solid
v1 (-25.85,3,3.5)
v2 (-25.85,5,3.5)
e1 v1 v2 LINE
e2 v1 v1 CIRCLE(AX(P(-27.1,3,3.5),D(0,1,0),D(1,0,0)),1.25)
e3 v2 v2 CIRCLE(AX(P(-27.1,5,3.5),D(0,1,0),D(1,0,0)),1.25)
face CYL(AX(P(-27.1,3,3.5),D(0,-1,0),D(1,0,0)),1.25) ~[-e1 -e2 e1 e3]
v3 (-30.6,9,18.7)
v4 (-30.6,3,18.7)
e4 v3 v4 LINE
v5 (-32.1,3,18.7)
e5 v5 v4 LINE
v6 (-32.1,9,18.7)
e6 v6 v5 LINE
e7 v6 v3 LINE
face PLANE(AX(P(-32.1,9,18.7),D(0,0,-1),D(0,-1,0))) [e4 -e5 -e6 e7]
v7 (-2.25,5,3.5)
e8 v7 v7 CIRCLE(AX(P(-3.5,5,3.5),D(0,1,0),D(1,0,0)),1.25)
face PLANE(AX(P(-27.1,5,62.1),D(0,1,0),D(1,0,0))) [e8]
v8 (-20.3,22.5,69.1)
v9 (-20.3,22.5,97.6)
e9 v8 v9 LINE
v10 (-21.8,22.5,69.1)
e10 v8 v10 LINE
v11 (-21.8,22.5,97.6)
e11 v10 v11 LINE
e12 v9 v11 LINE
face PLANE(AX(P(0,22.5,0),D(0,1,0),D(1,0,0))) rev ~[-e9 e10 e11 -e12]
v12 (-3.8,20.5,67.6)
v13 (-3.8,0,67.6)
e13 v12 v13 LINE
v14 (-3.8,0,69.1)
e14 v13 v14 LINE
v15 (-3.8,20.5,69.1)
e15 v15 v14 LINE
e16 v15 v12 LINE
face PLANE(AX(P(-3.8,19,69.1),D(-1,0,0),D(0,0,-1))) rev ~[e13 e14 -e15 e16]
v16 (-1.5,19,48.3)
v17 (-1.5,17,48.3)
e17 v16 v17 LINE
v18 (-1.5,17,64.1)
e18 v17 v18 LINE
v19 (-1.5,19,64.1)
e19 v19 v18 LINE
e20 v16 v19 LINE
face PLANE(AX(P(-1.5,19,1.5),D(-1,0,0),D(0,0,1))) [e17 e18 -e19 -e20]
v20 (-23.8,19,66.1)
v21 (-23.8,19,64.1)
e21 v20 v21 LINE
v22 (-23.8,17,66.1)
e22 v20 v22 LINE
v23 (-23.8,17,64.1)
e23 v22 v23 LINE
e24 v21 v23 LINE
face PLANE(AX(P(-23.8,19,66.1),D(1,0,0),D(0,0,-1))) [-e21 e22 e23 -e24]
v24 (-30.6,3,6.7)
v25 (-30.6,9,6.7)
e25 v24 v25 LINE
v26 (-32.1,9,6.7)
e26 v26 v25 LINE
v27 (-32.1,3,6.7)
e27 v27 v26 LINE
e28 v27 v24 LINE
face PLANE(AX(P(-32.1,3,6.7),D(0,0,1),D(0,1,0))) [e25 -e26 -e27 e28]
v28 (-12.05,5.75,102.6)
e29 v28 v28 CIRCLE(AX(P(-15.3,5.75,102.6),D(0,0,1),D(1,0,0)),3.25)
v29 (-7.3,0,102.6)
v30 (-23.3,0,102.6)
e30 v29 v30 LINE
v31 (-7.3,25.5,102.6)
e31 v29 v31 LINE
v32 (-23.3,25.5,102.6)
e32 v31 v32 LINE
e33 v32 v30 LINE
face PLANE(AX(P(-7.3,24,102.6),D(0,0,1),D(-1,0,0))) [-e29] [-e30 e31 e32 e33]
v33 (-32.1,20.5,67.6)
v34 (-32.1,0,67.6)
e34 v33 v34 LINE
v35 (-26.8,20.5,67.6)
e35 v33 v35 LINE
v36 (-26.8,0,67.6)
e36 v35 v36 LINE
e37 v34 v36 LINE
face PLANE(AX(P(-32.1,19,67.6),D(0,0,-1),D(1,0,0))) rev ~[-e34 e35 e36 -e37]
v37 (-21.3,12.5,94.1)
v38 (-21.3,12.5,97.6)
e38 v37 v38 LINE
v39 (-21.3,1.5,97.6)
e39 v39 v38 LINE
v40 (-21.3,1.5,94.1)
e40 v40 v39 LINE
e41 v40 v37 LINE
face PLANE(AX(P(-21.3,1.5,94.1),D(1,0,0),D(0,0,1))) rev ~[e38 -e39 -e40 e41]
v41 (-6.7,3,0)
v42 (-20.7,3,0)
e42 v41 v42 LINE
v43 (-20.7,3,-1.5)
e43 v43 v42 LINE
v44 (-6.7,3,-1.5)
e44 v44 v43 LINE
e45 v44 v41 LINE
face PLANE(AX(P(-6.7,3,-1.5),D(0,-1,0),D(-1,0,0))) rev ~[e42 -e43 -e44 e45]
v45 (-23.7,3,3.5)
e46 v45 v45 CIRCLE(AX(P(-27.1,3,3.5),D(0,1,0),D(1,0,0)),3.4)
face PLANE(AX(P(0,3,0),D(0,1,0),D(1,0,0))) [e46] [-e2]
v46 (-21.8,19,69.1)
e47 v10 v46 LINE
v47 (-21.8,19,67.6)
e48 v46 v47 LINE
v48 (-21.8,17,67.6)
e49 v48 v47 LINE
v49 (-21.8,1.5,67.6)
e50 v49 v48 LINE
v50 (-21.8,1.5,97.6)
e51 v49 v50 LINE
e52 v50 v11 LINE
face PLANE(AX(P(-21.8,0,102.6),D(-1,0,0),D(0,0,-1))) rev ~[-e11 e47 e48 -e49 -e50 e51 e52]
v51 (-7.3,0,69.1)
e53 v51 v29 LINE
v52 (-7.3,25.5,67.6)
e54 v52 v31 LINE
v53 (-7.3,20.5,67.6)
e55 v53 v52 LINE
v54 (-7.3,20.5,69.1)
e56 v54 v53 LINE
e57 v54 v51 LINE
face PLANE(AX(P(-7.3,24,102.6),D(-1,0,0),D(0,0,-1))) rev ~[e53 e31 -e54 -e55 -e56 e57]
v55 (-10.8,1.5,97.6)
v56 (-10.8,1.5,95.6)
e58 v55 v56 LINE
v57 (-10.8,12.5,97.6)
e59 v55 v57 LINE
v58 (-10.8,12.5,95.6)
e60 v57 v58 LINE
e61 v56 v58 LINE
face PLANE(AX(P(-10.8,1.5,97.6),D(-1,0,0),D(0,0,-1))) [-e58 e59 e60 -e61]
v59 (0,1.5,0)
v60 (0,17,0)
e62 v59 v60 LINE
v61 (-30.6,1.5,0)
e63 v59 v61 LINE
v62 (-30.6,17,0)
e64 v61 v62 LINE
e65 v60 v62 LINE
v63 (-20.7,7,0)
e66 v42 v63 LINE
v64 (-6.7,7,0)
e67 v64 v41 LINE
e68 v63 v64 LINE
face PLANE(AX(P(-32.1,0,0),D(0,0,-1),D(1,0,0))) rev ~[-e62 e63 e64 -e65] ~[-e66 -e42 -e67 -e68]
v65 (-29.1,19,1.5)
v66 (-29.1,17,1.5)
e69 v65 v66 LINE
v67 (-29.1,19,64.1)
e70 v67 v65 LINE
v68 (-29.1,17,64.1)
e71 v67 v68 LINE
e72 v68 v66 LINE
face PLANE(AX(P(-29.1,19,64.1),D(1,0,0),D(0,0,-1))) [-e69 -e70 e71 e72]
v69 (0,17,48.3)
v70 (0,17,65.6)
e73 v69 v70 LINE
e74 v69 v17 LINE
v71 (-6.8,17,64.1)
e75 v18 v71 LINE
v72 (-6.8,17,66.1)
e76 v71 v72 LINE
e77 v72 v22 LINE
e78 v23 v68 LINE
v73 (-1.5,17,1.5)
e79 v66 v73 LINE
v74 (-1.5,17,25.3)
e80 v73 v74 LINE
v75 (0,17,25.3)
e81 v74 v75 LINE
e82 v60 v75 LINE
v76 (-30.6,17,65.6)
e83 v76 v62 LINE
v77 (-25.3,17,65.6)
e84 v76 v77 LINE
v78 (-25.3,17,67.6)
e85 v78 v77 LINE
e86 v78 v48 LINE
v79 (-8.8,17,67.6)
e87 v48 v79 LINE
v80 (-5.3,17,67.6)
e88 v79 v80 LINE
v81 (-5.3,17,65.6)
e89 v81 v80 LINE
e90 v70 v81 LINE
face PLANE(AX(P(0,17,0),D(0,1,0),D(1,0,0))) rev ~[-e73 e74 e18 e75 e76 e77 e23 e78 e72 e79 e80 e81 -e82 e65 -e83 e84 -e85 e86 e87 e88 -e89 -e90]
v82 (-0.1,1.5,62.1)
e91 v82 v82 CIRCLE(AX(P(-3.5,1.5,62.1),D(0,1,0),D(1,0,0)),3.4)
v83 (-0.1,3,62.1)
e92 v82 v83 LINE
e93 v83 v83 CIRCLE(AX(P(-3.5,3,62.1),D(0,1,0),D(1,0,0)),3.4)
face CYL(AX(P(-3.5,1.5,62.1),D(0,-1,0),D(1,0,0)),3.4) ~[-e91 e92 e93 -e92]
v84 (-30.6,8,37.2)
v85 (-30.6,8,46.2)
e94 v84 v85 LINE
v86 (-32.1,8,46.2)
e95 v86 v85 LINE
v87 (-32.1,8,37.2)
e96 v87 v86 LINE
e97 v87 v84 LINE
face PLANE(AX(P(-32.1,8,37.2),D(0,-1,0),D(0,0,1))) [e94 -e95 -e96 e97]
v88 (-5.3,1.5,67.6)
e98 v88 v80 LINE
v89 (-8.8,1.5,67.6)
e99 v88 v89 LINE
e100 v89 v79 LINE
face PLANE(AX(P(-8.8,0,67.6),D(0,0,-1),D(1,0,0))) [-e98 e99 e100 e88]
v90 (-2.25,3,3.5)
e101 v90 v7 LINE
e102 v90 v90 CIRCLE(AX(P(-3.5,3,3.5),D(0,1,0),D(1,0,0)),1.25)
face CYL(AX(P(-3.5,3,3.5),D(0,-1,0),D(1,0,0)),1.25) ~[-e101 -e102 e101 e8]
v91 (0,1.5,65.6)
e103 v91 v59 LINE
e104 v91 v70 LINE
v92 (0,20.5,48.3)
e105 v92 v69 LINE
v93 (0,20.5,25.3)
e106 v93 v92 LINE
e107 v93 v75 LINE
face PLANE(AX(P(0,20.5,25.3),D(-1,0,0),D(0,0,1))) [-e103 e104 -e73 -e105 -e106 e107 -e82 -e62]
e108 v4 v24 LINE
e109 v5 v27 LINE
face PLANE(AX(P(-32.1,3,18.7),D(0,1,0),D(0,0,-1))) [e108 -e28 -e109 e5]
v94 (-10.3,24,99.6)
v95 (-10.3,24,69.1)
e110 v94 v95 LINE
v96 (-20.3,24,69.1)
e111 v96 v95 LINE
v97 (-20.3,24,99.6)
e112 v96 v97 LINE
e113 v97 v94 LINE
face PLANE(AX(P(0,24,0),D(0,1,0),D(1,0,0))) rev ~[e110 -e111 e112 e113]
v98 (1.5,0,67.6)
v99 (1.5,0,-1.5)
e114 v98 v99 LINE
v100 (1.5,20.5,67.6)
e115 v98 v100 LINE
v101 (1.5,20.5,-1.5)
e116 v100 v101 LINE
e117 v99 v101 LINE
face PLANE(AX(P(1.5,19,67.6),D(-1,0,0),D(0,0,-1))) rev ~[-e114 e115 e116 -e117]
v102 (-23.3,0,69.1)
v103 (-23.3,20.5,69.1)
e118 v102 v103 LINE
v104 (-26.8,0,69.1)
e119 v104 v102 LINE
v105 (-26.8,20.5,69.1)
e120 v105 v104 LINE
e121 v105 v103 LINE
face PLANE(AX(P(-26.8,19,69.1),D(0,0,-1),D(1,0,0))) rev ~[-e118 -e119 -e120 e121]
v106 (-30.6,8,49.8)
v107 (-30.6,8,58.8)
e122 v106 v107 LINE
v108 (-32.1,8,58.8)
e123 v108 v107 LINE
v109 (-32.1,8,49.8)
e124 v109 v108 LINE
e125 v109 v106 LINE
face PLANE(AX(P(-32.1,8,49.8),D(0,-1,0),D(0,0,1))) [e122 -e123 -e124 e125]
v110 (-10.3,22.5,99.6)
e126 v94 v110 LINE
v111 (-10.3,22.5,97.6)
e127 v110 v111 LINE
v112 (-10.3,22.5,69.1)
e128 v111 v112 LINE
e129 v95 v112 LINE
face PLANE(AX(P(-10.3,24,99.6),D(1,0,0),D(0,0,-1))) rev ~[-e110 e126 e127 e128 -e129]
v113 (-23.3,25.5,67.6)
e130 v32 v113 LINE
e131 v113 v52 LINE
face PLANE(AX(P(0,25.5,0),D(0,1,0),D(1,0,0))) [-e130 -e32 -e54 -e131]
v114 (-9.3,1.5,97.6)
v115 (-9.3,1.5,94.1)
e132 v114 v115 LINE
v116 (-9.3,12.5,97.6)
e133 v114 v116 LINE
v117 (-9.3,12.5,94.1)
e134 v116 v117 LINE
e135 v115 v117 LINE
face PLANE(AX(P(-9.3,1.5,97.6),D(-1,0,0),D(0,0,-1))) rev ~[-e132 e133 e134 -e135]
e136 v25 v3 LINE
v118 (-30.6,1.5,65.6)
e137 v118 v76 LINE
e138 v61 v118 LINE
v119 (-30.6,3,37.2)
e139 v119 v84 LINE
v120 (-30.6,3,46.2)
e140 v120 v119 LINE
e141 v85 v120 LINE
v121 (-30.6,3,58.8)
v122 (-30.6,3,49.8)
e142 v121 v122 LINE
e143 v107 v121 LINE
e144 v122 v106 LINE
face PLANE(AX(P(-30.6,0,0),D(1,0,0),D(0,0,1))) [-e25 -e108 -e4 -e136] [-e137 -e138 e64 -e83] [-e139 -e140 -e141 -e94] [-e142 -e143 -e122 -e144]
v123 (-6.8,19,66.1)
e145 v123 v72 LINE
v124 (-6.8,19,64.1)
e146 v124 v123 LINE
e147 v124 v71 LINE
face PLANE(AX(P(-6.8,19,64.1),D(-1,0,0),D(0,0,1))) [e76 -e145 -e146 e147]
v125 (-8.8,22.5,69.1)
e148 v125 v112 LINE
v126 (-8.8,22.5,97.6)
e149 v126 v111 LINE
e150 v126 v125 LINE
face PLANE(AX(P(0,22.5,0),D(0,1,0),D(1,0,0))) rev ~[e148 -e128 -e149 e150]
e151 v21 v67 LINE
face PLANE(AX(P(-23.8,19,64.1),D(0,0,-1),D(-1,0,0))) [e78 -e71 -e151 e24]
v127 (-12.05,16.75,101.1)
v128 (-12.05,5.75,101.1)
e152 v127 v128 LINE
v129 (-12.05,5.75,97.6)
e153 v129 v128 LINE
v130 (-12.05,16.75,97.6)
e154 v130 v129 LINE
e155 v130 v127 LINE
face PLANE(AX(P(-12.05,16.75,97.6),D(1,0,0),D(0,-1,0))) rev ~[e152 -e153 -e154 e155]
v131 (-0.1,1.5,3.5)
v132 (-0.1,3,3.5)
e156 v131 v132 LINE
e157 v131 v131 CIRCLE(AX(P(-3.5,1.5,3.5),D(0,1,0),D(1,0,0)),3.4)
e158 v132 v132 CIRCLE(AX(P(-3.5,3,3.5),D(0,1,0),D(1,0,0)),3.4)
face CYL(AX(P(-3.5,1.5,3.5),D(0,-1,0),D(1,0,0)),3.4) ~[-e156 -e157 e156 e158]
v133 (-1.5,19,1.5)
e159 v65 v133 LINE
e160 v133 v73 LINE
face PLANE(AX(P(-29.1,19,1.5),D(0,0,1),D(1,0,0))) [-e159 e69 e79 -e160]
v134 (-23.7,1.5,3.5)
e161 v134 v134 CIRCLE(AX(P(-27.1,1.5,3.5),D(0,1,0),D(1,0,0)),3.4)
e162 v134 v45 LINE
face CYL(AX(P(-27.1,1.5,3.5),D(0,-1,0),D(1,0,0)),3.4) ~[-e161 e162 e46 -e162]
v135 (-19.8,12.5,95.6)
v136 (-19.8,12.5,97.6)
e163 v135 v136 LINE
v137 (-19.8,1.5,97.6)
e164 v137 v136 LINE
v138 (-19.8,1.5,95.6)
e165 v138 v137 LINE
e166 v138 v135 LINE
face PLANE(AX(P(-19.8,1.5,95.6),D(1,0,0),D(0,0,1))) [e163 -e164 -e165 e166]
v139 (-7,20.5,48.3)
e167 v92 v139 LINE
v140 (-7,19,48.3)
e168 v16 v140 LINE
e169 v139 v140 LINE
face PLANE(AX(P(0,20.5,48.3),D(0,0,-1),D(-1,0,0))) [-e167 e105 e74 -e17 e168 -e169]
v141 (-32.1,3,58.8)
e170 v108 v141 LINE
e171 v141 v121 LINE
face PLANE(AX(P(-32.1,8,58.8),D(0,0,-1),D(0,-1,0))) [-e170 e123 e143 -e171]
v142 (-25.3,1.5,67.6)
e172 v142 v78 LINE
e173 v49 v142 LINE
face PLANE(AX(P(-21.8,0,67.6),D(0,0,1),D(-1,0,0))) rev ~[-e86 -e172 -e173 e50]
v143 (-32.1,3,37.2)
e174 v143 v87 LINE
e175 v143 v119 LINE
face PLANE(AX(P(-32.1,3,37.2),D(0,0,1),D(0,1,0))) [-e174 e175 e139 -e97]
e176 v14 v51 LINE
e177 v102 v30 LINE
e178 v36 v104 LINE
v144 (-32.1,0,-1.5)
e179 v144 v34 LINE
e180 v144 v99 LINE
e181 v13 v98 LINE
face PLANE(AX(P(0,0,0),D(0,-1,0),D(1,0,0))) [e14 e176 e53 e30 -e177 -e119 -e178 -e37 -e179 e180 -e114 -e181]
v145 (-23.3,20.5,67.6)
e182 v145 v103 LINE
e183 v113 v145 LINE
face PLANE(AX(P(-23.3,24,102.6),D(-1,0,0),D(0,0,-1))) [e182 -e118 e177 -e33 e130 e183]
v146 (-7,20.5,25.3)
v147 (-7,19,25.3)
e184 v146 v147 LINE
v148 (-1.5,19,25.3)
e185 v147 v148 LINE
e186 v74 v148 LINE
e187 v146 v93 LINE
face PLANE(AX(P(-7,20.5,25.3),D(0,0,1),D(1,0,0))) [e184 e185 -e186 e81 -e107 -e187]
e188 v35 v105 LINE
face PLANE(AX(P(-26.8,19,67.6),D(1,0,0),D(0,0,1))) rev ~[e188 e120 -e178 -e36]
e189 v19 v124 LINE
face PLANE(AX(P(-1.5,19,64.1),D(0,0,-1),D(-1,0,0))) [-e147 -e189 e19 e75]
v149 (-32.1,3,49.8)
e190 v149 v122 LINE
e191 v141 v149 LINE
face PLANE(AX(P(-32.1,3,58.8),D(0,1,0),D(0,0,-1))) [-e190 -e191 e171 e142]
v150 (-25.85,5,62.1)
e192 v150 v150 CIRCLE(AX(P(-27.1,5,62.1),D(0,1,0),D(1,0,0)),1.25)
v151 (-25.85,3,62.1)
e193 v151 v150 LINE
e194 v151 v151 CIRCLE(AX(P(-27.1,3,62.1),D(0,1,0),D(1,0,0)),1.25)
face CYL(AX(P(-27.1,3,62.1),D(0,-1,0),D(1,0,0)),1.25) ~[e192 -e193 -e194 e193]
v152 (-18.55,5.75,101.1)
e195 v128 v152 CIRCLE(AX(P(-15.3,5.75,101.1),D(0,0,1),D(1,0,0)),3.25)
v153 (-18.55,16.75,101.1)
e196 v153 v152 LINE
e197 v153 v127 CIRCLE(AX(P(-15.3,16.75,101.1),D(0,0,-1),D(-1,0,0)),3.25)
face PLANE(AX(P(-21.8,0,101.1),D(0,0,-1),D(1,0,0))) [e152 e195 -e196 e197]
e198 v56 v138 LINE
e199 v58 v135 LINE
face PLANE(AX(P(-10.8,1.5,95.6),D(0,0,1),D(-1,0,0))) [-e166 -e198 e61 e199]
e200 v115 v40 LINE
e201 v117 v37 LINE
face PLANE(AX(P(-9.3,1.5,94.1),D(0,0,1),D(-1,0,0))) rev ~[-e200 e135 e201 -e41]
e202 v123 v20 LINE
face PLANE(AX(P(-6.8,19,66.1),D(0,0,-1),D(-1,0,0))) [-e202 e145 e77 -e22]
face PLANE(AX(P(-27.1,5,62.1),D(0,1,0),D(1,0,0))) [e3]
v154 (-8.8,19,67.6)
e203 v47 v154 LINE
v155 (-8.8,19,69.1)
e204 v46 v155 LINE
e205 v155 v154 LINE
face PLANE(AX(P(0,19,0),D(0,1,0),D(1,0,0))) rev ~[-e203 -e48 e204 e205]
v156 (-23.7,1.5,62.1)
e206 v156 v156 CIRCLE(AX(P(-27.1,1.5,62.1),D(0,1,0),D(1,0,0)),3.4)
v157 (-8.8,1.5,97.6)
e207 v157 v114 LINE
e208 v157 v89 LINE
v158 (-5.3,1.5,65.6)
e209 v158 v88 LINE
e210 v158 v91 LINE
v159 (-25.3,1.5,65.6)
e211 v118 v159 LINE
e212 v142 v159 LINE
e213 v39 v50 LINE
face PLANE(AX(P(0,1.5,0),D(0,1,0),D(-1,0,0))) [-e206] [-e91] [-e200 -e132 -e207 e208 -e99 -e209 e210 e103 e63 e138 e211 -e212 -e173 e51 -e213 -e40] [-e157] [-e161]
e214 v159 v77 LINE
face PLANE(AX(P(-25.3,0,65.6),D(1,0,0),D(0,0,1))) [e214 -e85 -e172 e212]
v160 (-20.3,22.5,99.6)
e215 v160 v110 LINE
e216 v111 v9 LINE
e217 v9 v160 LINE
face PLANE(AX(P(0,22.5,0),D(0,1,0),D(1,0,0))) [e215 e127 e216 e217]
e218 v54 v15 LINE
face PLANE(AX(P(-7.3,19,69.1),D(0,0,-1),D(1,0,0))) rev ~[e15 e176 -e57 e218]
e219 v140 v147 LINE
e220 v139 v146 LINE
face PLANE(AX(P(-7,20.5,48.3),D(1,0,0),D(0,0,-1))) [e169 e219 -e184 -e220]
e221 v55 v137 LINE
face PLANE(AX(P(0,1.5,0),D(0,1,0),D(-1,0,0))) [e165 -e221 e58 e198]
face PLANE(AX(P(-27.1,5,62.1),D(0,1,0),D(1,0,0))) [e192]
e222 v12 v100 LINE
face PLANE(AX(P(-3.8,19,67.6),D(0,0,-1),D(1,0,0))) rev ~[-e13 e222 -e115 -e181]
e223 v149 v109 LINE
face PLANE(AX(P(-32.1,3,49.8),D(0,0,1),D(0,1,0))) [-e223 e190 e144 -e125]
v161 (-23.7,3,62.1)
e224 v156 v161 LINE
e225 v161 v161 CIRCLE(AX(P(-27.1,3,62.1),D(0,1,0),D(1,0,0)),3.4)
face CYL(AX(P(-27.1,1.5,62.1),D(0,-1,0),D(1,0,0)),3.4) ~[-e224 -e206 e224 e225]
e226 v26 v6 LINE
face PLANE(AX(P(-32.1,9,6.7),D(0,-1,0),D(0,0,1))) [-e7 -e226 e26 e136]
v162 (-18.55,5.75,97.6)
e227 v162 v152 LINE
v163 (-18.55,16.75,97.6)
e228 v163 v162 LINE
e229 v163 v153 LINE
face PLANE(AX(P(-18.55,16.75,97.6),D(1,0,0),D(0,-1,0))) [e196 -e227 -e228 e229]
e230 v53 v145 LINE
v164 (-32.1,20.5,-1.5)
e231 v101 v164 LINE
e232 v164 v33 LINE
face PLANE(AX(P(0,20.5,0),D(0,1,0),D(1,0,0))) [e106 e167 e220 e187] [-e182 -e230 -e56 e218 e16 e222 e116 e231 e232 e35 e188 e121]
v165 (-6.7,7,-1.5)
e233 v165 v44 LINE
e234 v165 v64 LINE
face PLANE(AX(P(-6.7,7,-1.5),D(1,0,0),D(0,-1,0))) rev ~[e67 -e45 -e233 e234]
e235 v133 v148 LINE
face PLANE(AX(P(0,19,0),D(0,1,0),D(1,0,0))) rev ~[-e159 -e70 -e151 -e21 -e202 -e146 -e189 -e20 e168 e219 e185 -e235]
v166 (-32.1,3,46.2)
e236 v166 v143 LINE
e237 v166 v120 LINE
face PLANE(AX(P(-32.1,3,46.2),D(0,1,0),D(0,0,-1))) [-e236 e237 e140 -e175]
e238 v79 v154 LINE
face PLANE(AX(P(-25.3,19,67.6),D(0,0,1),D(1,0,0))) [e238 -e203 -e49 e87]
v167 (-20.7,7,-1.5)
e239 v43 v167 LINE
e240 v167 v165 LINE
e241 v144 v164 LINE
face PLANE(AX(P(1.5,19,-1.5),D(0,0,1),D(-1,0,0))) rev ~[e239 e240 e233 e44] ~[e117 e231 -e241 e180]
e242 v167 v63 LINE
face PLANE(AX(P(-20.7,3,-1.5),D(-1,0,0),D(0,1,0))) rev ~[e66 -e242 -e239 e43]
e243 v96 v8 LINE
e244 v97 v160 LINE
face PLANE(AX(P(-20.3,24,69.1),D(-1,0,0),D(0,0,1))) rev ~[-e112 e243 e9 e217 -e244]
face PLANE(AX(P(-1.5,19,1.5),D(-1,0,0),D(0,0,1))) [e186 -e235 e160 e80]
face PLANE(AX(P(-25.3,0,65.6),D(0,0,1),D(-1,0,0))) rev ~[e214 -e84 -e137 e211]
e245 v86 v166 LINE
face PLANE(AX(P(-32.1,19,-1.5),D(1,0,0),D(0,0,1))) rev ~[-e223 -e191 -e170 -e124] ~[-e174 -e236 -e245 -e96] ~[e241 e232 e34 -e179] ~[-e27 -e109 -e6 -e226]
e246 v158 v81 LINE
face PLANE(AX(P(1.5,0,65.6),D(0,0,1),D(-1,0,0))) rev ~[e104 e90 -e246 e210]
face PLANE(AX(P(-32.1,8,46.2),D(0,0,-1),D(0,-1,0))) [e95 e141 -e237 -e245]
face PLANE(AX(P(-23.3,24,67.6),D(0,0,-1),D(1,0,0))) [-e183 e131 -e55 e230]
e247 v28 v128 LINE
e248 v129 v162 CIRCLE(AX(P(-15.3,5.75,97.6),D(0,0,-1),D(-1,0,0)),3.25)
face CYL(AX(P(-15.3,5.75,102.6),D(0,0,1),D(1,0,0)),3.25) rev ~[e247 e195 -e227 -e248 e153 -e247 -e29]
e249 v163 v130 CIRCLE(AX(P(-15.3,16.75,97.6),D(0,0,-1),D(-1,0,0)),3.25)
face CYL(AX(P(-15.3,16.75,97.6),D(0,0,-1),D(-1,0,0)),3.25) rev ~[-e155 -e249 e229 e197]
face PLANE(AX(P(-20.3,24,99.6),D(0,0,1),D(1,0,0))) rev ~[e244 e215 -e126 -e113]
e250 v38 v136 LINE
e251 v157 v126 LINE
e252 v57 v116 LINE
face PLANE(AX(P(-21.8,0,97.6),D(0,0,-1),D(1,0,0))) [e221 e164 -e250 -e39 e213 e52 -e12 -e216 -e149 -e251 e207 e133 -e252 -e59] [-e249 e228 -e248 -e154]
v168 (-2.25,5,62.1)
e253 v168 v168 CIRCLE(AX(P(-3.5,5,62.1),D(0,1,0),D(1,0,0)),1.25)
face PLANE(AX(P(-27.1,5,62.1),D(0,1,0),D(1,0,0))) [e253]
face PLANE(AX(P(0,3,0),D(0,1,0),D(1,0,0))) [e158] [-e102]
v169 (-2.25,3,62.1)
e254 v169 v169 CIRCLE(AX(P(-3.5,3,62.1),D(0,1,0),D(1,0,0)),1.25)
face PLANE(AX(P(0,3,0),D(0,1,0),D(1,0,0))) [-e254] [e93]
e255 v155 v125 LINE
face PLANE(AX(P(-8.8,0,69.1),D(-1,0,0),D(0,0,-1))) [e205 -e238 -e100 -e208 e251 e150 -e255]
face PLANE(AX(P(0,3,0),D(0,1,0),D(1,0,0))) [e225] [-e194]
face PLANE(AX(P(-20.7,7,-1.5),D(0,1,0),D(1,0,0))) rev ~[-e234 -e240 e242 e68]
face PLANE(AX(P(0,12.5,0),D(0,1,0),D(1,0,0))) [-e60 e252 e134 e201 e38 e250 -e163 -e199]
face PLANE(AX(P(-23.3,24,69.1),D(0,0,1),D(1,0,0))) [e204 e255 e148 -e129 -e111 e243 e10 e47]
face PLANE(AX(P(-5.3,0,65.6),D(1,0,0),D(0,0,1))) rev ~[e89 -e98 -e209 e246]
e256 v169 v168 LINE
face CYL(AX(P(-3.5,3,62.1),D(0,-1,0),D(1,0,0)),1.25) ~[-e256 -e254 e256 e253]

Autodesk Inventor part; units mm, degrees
ref_plane "YZ Plane" through (0, 0, 0) normal (1, 0, 0) x (0, 1, 0)
ref_plane "XZ Plane" through (0, 0, 0) normal (0, 1, 0) x (-1, 0, 0)
ref_plane "XY Plane" through (0, 0, 0) normal (0, 0, 1) x (1, 0, 0)
sketch "Szkic1" plane through (0, 0, 0) normal (0, 1, 0) x (-1, 0, 0)
  line L0 (0, 0) -> (30.6, 0)
  line L1 (30.6, 0) -> (30.6, 65.6)
  line L2 (30.6, 65.6) -> (0, 65.6)
  line L3 (0, 65.6) -> (0, 0)
  dimension "d0" = 30.6
  dimension "d1" = 65.6
extrude "Wyciągnięcie proste1" add sketch "Szkic1" along normal blind 1.5
sketch "Szkic2" plane through (0, 1.5, 0) normal (0, 1, 0) x (1, 0, 0)
  line L0 (-30.6, 0) -> (-30.6, -65.6) construction
  line L1 (-30.6, -65.6) -> (-30.6, -62.1) construction
  line L2 (-30.6, -62.1) -> (-27.1, -62.1) construction
  line L3 (0, 0) -> (-30.6, 0) construction
  line L4 (0, 0) -> (-3.5, 0) construction
  line L5 (-3.5, 0) -> (-3.5, -3.5) construction
  line L6 (-30.6, -65.6) -> (0, -65.6) construction
  line L7 (0, -65.6) -> (-3.5, -65.6) construction
  line L8 (-3.5, -65.6) -> (-3.5, -62.1) construction
  line L9 (-3.5, -62.1) -> (0, -62.1) construction
  line L10 (0, -62.1) -> (0, -65.6) construction
  line L11 (-30.6, 0) -> (-27.1, 0) construction
  line L12 (-27.1, 0) -> (-27.1, -3.5) construction
  line L13 (-27.1, -3.5) -> (-30.6, -3.5) construction
  line L14 (-30.6, -3.5) -> (-30.6, 0) construction
  circle A0 centre (-27.1, -62.1) radius 3.4
  circle A1 centre (-3.5, -62.1) radius 3.4
  circle A2 centre (-3.5, -3.5) radius 3.4
  circle A3 centre (-27.1, -3.5) radius 3.4
  dimension "d4" = 3.5
  dimension "d5" = 3.5
  dimension "d6" = 3.5
  dimension "d7" = 3.5
  dimension "d8" = 3.5
  dimension "d9" = 3.5
  dimension "d10" = 3.5
  dimension "d11" = 3.5
  dimension "d12" = 6.8
  dimension "d13" = 6.8
  dimension "d14" = 6.8
  dimension "d15" = 6.8
extrude "Wyciągnięcie proste2" add sketch "Szkic2" along normal blind 1.5
sketch "Szkic3" plane through (-27.1, 3, 62.1) normal (0, 1, 0) x (1, 0, 0)
  circle A0 centre (23.6, 0) radius 3.4 projected
  circle A1 centre (23.6, 0) radius 1.25
  circle A2 centre (0, 0) radius 3.4 projected
  circle A3 centre (0, 0) radius 1.25
  circle A4 centre (0, 58.6) radius 3.4 projected
  circle A5 centre (0, 58.6) radius 1.25
  circle A6 centre (23.6, 58.6) radius 3.4 projected
  circle A7 centre (23.6, 58.6) radius 1.25
  point P0 (27.1, 62.1)
  dimension "d18" = 2.5
  dimension "d19" = 2.5
  dimension "d20" = 2.5
  dimension "d21" = 2.5
extrude "Wyciągnięcie proste3" add sketch "Szkic3" along normal blind 2 contours A1 | A3 | A5 | A7
sketch "Szkic4" plane through (0, 0, 0) normal (0, -1, 0) x (1, 0, 0)
  line L0 (-30.6, 65.6) -> (0, 65.6) construction
  line L1 (-15.3, 65.6) -> (-25.3, 65.6) construction
  line L2 (-25.3, 65.6) -> (-5.3, 65.6)
  line L3 (-5.3, 65.6) -> (-5.3, 67.6)
  line L4 (-5.3, 67.6) -> (-25.3, 67.6)
  line L5 (-25.3, 67.6) -> (-25.3, 65.6)
  line L6 (-15.3, 67.6) -> (-21.8, 67.6) construction
  line L7 (-21.8, 67.6) -> (-8.8, 67.6)
  line L8 (-8.8, 67.6) -> (-8.8, 97.6)
  line L9 (-8.8, 97.6) -> (-21.8, 97.6)
  line L10 (-21.8, 97.6) -> (-21.8, 67.6)
  point P0 (0, 0)
  dimension "d24" = 10
  dimension "d25" = 20
  dimension "d26" = 2
  dimension "d27" = 6.5
  dimension "d28" = 13
  dimension "d29" = 30
extrude "Wyciągnięcie proste4" add sketch "Szkic4" against normal blind 1.5
sketch "Szkic6" plane through (0, 0, 0) normal (0, -1, 0) x (1, 0, 0)
  line L0 (-21.8, 97.6) -> (-8.8, 97.6) projected
  line L1 (-8.8, 97.6) -> (-21.8, 97.6)
  line L2 (-21.8, 97.6) -> (-21.8, 101.1)
  line L3 (-21.8, 101.1) -> (-8.8, 101.1)
  line L4 (-8.8, 101.1) -> (-8.8, 97.6)
  point P0 (0, 0)
  dimension "d32" = 13
  dimension "d33" = 3.5
extrude "Wyciągnięcie proste5" add sketch "Szkic6" against normal blind 24
sketch "Szkic7" plane through (0, 1.5, 0) normal (0, 1, 0) x (1, 0, 0)
  line L0 (-21.8, -97.6) -> (-8.8, -97.6) construction
  line L1 (-21.8, -97.6) -> (-19.8, -97.6) construction
  line L2 (-19.8, -97.6) -> (-10.8, -97.6)
  line L3 (-10.8, -97.6) -> (-10.8, -95.6)
  line L4 (-10.8, -95.6) -> (-19.8, -95.6)
  line L5 (-19.8, -95.6) -> (-19.8, -97.6)
  line L6 (-21.8, -97.6) -> (-21.3, -97.6) construction
  line L7 (-21.3, -97.6) -> (-9.3, -97.6)
  line L8 (-9.3, -97.6) -> (-9.3, -94.1)
  line L9 (-9.3, -94.1) -> (-21.3, -94.1)
  line L10 (-21.3, -94.1) -> (-21.3, -97.6)
  point P0 (0, 0)
  dimension "d36" = 2
  dimension "d37" = 9
  dimension "d38" = 2
  dimension "d39" = 0.5
  dimension "d40" = 12
  dimension "d41" = 3.5
extrude "Wyciągnięcie proste6" add sketch "Szkic7" along normal blind 11 contours L7 L10 L9 L8 L3 L4 L5
sketch "Szkic8" plane through (-8.8, 24, 97.6) normal (0, 0, -1) x (-1, 0, 0)
  line L0 (11, -11.5) -> (2, -11.5) construction
  line L1 (6.5, -11.5) -> (6.5, -10.5) construction
  line L2 (6.5, -10.5) -> (6.5, -7.25) construction
  circle A0 centre (6.5, -7.25) radius 3.25
  line L3 (11, -22.5) -> (2, -22.5) construction
  line L4 (6.5, -22.5) -> (6.5, -18.25) construction
  circle A1 centre (6.5, -18.25) radius 3.25
  line L5 (9.75, -7.25) -> (9.75, -18.25)
  line L6 (3.25, -7.25) -> (3.25, -18.25)
  point P0 (-8.8, -24)
  dimension "d44" = 1
  dimension "d45" = 3.25
  dimension "d46" = 6.5
  dimension "d47" = 4.25
  dimension "d48" = 6.5
extrude "Wyciągnięcie proste7" cut sketch "Szkic8" against normal blind 11
sketch "Szkic9" plane through (0, 0, 0) normal (0, -1, 0) x (1, 0, 0)
  line L0 (-21.8, 101.1) -> (-8.8, 101.1)
  line L1 (-8.8, 101.1) -> (-8.8, 102.6)
  line L2 (-8.8, 102.6) -> (-21.8, 102.6)
  line L3 (-21.8, 102.6) -> (-21.8, 101.1)
  point P0 (0, 0)
  dimension "d51" = 13
  dimension "d52" = 1.5
extrude "Wyciągnięcie proste8" add sketch "Szkic9" against normal blind 24
sketch "Szkic10" plane through (-21.8, 0, 102.6) normal (0, 0, 1) x (1, 0, 0)
  line L0 (13, 0) -> (0, 0) construction
  line L1 (6.5, 0) -> (6.5, 5.75) construction
  circle A0 centre (6.5, 5.75) radius 3.25
  point P0 (21.8, 0)
  dimension "d55" = 5.75
  dimension "d56" = 6.5
extrude "Wyciągnięcie proste9" cut sketch "Szkic10" against normal blind 1.5
sketch "Szkic11" plane through (0, 24, 0) normal (0, 1, 0) x (1, 0, 0)
  line L0 (-8.8, -97.6) -> (-21.8, -97.6)
  line L1 (-21.8, -97.6) -> (-21.8, -101.1)
  line L2 (-21.8, -101.1) -> (-8.8, -101.1)
  line L3 (-8.8, -101.1) -> (-8.8, -97.6)
  point P0 (0, 0)
  dimension "d59" = 13
  dimension "d60" = 3.5
extrude "Wyciągnięcie proste10" cut sketch "Szkic11" against normal blind 1.5
sketch "Szkic12" plane through (0, 0, 0) normal (0, -1, 0) x (1, 0, 0)
  line L0 (-30.6, 0) -> (-30.6, 65.6) projected
  line L1 (-30.6, 65.6) -> (-32.1, 65.6)
  line L2 (-32.1, 65.6) -> (-32.1, 0)
  line L3 (-32.1, 0) -> (-30.6, 0)
  line L4 (-30.6, 0) -> (-30.6, 65.6)
  point P0 (0, 0)
  dimension "d82" = 32.1
  dimension "d63" = 1.5
  dimension "d64" = 65.6
extrude "Wyciągnięcie proste11" add sketch "Szkic12" against normal blind 19
sketch "Szkic13" plane through (-32.1, 0, 0) normal (-1, 0, 0) x (0, 0, 1)
  line L0 (65.6, 0) -> (65.6, 1.5) construction
  line L1 (65.6, 0) -> (65.6, 3) construction
  line L2 (65.6, 1.5) -> (65.6, 19) construction
  line L3 (65.6, 3) -> (0, 3) construction
  line L4 (0, 3) -> (54.3, 3) construction
  line L5 (0, 3) -> (41.7, 3) construction
  line L6 (0, 3) -> (12.7, 3) construction
  line L7 (54.3, 3) -> (58.8, 3) construction
  line L8 (41.7, 3) -> (46.2, 3) construction
  line L9 (46.2, 3) -> (37.2, 3)
  line L10 (37.2, 3) -> (37.2, 8)
  line L11 (37.2, 8) -> (46.2, 8)
  line L12 (46.2, 8) -> (46.2, 3)
  line L13 (58.8, 3) -> (49.8, 3)
  line L14 (49.8, 3) -> (49.8, 8)
  line L15 (49.8, 8) -> (58.8, 8)
  line L16 (58.8, 8) -> (58.8, 3)
  line L17 (12.7, 3) -> (18.7, 3) construction
  line L18 (18.7, 3) -> (6.7, 3)
  line L19 (6.7, 3) -> (6.7, 9)
  line L20 (6.7, 9) -> (18.7, 9)
  line L21 (18.7, 9) -> (18.7, 3)
  point P0 (0, 0)
  dimension "d67" = 3
  dimension "d68" = 54.3
  dimension "d69" = 41.7
  dimension "d70" = 12.7
  dimension "d71" = 4.5
  dimension "d72" = 4.5
  dimension "d73" = 9
  dimension "d74" = 5
  dimension "d75" = 9
  dimension "d76" = 5
  dimension "d77" = 6
  dimension "d78" = 12
  dimension "d79" = 6
extrude "Wyciągnięcie proste12" cut sketch "Szkic13" against normal blind 1.5
sketch "Szkic14" plane through (0, 0, 0) normal (0, -1, 0) x (1, 0, 0)
  line L0 (-32.1, 65.6) -> (-32.1, 0) projected
  line L1 (-32.1, 0) -> (0, 0)
  line L2 (0, 0) -> (0, -1.5)
  line L3 (0, -1.5) -> (-32.1, -1.5)
  line L4 (-32.1, -1.5) -> (-32.1, 0)
  dimension "d82" = 32.1
  dimension "d83" = 1.5
extrude "Wyciągnięcie proste13" add sketch "Szkic14" against normal blind 19
sketch "Szkic15" plane through (0, 0, -1.5) normal (0, 0, -1) x (-1, 0, 0)
  line L0 (32.1, 0) -> (32.1, 19) construction
  line L1 (32.1, 0) -> (32.1, 3) construction
  line L2 (6.9, 3) -> (0.1, 3) construction
  line L3 (32.1, 3) -> (0.1, 3) construction
  line L4 (0.1, 3) -> (6.7, 3) construction
  line L5 (6.7, 3) -> (20.7, 3)
  line L6 (20.7, 3) -> (20.7, 7)
  line L7 (20.7, 7) -> (6.7, 7)
  line L8 (6.7, 7) -> (6.7, 3)
  point P0 (0, 0)
  dimension "d86" = 3
  dimension "d87" = 6.6
  dimension "d88" = 14
  dimension "d89" = 4
extrude "Wyciągnięcie proste14" cut sketch "Szkic15" against normal blind 1.5
sketch "Szkic16" plane through (0, 0, 0) normal (0, -1, 0) x (1, 0, 0)
  line L0 (0, 65.6) -> (0, 0) projected
  line L1 (0, 65.6) -> (1.5, 65.6)
  line L2 (1.5, 65.6) -> (1.5, -1.5)
  line L3 (1.5, -1.5) -> (0, -1.5)
  line L4 (0, -1.5) -> (0, 65.6)
  dimension "d92" = 1.5
extrude "Wyciągnięcie proste15" add sketch "Szkic16" against normal blind 19
sketch "Szkic18" plane through (0, 0, 0) normal (0, -1, 0) x (1, 0, 0)
  line L0 (1.5, 65.6) -> (1.5, -1.5) projected
  line L1 (-5.3, 65.6) -> (-5.3, 67.6) projected
  line L2 (1.5, 65.6) -> (-5.3, 65.6)
  line L3 (-5.3, 65.6) -> (-5.3, 67.6)
  line L4 (-5.3, 67.6) -> (1.5, 67.6)
  line L5 (1.5, 67.6) -> (1.5, 65.6)
  line L6 (-25.3, 65.6) -> (-32.1, 65.6) projected
  line L7 (-21.8, 67.6) -> (-25.3, 67.6) projected
  line L8 (-32.1, 65.6) -> (-25.3, 65.6)
  line L9 (-25.3, 65.6) -> (-25.3, 67.6)
  line L10 (-25.3, 67.6) -> (-32.1, 67.6)
  line L11 (-32.1, 67.6) -> (-32.1, 65.6)
  point P0 (0, 0)
extrude "Wyciągnięcie proste16" add sketch "Szkic18" against normal blind 19
sketch "Szkic19" plane through (0, 0, 0) normal (0, -1, 0) x (1, 0, 0)
  line L0 (-8.8, 97.6) -> (-8.8, 67.6) construction
  line L1 (-8.8, 67.6) -> (-7.3, 67.6) construction
  line L2 (-7.3, 67.6) -> (-7.3, 69.1) construction
  line L3 (-7.3, 69.1) -> (-8.8, 69.1) construction
  line L4 (-8.8, 69.1) -> (-8.8, 67.6) construction
  line L5 (-21.8, 67.6) -> (-21.8, 97.6) construction
  line L6 (-21.8, 67.6) -> (-23.3, 67.6) construction
  line L7 (-23.3, 67.6) -> (-23.3, 69.1) construction
  line L8 (-23.3, 69.1) -> (-21.8, 69.1) construction
  line L9 (-21.8, 69.1) -> (-21.8, 67.6) construction
  line L10 (-5.3, 67.6) -> (1.5, 67.6) construction
  line L11 (-5.3, 67.6) -> (-5.3, 69.1) construction
  line L12 (-25.3, 67.6) -> (-21.8, 67.6) construction
  line L13 (-25.3, 67.6) -> (-25.3, 69.1) construction
  line L14 (-5.3, 69.1) -> (-3.8, 69.1) construction
  line L15 (-3.8, 69.1) -> (-3.8, 67.6) construction
  line L16 (-3.8, 67.6) -> (-5.3, 67.6) construction
  line L17 (-5.3, 67.6) -> (-5.3, 69.1) construction
  line L18 (-25.3, 69.1) -> (-26.8, 69.1) construction
  line L19 (-26.8, 69.1) -> (-26.8, 67.6) construction
  line L20 (-26.8, 67.6) -> (-25.3, 67.6) construction
  line L21 (-25.3, 67.6) -> (-25.3, 69.1) construction
  line L22 (-8.8, 67.6) -> (-8.8, 102.6) construction
  line L23 (-8.8, 102.6) -> (-7.3, 102.6) construction
  line L24 (-21.8, 102.6) -> (-21.8, 67.6) construction
  line L25 (-21.8, 102.6) -> (-23.3, 102.6) construction
  line L26 (-7.3, 102.6) -> (-8.8, 102.6)
  line L27 (-8.8, 102.6) -> (-8.8, 69.1)
  line L28 (-8.8, 69.1) -> (-7.3, 69.1)
  line L29 (-7.3, 69.1) -> (-7.3, 102.6)
  line L30 (-23.3, 102.6) -> (-21.8, 102.6)
  line L31 (-21.8, 102.6) -> (-21.8, 69.1)
  line L32 (-21.8, 69.1) -> (-23.3, 69.1)
  line L33 (-23.3, 69.1) -> (-23.3, 102.6)
  line L34 (-8.8, 67.6) -> (-5.3, 67.6) projected
  line L35 (-3.8, 69.1) -> (-8.8, 69.1)
  line L36 (-8.8, 69.1) -> (-8.8, 67.6)
  line L37 (-8.8, 67.6) -> (-3.8, 67.6)
  line L38 (-3.8, 67.6) -> (-3.8, 69.1)
  line L39 (-26.8, 67.6) -> (-21.8, 67.6)
  line L40 (-21.8, 67.6) -> (-21.8, 69.1)
  line L41 (-21.8, 69.1) -> (-26.8, 69.1)
  line L42 (-26.8, 69.1) -> (-26.8, 67.6)
  point P0 (0, 0)
  dimension "d97" = 1.5
  dimension "d98" = 1.5
  dimension "d99" = 1.5
  dimension "d100" = 1.5
  dimension "d101" = 1.5
  dimension "d102" = 1.5
  dimension "d103" = 1.5
  dimension "d104" = 1.5
  dimension "d105" = 1.5
  dimension "d106" = 1.5
extrude "Wyciągnięcie proste17" add sketch "Szkic19" against normal blind 24 contours L29 L28 L27 L26 | L30 L31 L32 L33
sketch "Szkic20" plane through (0, 0, 0) normal (0, -1, 0) x (1, 0, 0)
  line L0 (-25.3, 67.6) -> (-21.8, 67.6) construction
  line L1 (-25.3, 67.6) -> (-26.8, 67.6) construction
  line L2 (-26.8, 67.6) -> (-26.8, 69.1) construction
  line L3 (-26.8, 69.1) -> (-25.3, 69.1) construction
  line L4 (-25.3, 69.1) -> (-25.3, 67.6) construction
  line L5 (-8.8, 67.6) -> (-5.3, 67.6) construction
  line L6 (-5.3, 67.6) -> (-3.8, 67.6) construction
  line L7 (-3.8, 67.6) -> (-3.8, 69.1) construction
  line L8 (-3.8, 69.1) -> (-5.3, 69.1) construction
  line L9 (-5.3, 69.1) -> (-5.3, 67.6) construction
  line L10 (-26.8, 69.1) -> (-21.8, 69.1)
  line L11 (-21.8, 69.1) -> (-21.8, 67.6)
  line L12 (-21.8, 67.6) -> (-26.8, 67.6)
  line L13 (-26.8, 67.6) -> (-26.8, 69.1)
  line L14 (-8.8, 67.6) -> (-3.8, 67.6)
  line L15 (-3.8, 67.6) -> (-3.8, 69.1)
  line L16 (-3.8, 69.1) -> (-8.8, 69.1)
  line L17 (-8.8, 69.1) -> (-8.8, 67.6)
  point P0 (0, 0)
  dimension "d109" = 1.5
  dimension "d110" = 1.5
  dimension "d111" = 1.5
  dimension "d112" = 1.5
extrude "Wyciągnięcie proste18" add sketch "Szkic20" against normal blind 19
sketch "Szkic21" plane through (0, 19, 0) normal (0, 1, 0) x (1, 0, 0)
  line L0 (-5.3, -65.6) -> (-5.3, -67.6) projected
  line L1 (-25.3, -67.6) -> (-5.3, -67.6)
  line L2 (0, -65.6) -> (-5.3, -65.6) projected
  line L3 (-5.3, -67.6) -> (-5.3, -65.6)
  line L4 (-5.3, -65.6) -> (0, -65.6)
  line L5 (0, 0) -> (0, -65.6) projected
  line L6 (0, -65.6) -> (0, 0)
  line L7 (-30.6, -65.6) -> (-30.6, 0) projected
  line L8 (0, 0) -> (-30.6, 0)
  line L9 (-30.6, 0) -> (-30.6, -65.6)
  line L10 (-25.3, -67.6) -> (-25.3, -65.6) projected
  line L11 (-30.6, -65.6) -> (-25.3, -65.6)
  line L12 (-25.3, -65.6) -> (-25.3, -67.6)
  line L13 (-30.6, -65.6) -> (-29.1, -65.6) construction
  line L14 (-29.1, -65.6) -> (-29.1, -64.1) construction
  line L15 (-29.1, -64.1) -> (-30.6, -64.1) construction
  line L16 (-30.6, -64.1) -> (-30.6, -65.6) construction
  line L17 (-30.6, 0) -> (-29.1, 0) construction
  line L18 (-29.1, 0) -> (-29.1, -1.5) construction
  line L19 (-29.1, -1.5) -> (-30.6, -1.5) construction
  line L20 (-30.6, -1.5) -> (-30.6, 0) construction
  line L21 (0, 0) -> (-1.5, 0) construction
  line L22 (-1.5, 0) -> (-1.5, -1.5) construction
  line L23 (-1.5, -1.5) -> (0, -1.5) construction
  line L24 (0, -1.5) -> (0, 0) construction
  line L25 (0, -65.6) -> (-1.5, -65.6) construction
  line L26 (-1.5, -65.6) -> (-1.5, -64.1) construction
  line L27 (-1.5, -64.1) -> (0, -64.1) construction
  line L28 (0, -64.1) -> (0, -65.6) construction
  line L29 (-5.3, -65.6) -> (-6.8, -65.6) construction
  line L30 (-6.8, -65.6) -> (-6.8, -64.1) construction
  line L31 (-6.8, -64.1) -> (-5.3, -64.1) construction
  line L32 (-5.3, -64.1) -> (-5.3, -65.6) construction
  line L33 (-5.3, -67.6) -> (-6.8, -67.6) construction
  line L34 (-6.8, -67.6) -> (-6.8, -66.1) construction
  line L35 (-6.8, -66.1) -> (-5.3, -66.1) construction
  line L36 (-5.3, -66.1) -> (-5.3, -67.6) construction
  line L37 (-21.8, -67.6) -> (-25.3, -67.6) construction
  line L38 (-25.3, -67.6) -> (-23.8, -67.6) construction
  line L39 (-23.8, -67.6) -> (-23.8, -66.1) construction
  line L40 (-23.8, -66.1) -> (-25.3, -66.1) construction
  line L41 (-25.3, -66.1) -> (-25.3, -67.6) construction
  line L42 (-25.3, -65.6) -> (-23.8, -65.6) construction
  line L43 (-23.8, -65.6) -> (-23.8, -64.1) construction
  line L44 (-23.8, -64.1) -> (-25.3, -64.1) construction
  line L45 (-25.3, -64.1) -> (-25.3, -65.6) construction
  line L46 (-29.1, -64.1) -> (-29.1, -1.5)
  line L47 (-29.1, -1.5) -> (-1.5, -1.5)
  line L48 (-1.5, -1.5) -> (-1.5, -64.1)
  line L49 (-1.5, -64.1) -> (-6.8, -64.1)
  line L50 (-6.8, -64.1) -> (-6.8, -66.1)
  line L51 (-6.8, -66.1) -> (-23.8, -66.1)
  line L52 (-23.8, -66.1) -> (-23.8, -64.1)
  line L53 (-23.8, -64.1) -> (-29.1, -64.1)
  dimension "d115" = 1.5
  dimension "d116" = 1.5
  dimension "d117" = 1.5
  dimension "d118" = 1.5
  dimension "d119" = 1.5
  dimension "d120" = 1.5
  dimension "d121" = 1.5
  dimension "d122" = 1.5
  dimension "d123" = 1.5
  dimension "d124" = 1.5
  dimension "d125" = 1.5
  dimension "d126" = 1.5
  dimension "d127" = 1.5
  dimension "d128" = 1.5
  dimension "d129" = 1.5
  dimension "d130" = 1.5
extrude "Wyciągnięcie proste19" add sketch "Szkic21" against normal blind 2
sketch "Szkic22" plane through (0, 19, 0) normal (0, 1, 0) x (1, 0, 0)
  line L0 (1.5, -67.6) -> (1.5, 1.5) projected
  line L1 (1.5, -67.6) -> (1.5, 1.5)
  line L2 (1.5, 1.5) -> (-32.1, 1.5) projected
  line L3 (1.5, 1.5) -> (-32.1, 1.5)
  line L4 (-32.1, -67.6) -> (-26.8, -67.6) projected
  line L5 (-32.1, 1.5) -> (-32.1, -67.6)
  line L6 (-32.1, -67.6) -> (-26.8, -67.6)
  line L7 (-26.8, -69.1) -> (-23.3, -69.1) projected
  line L8 (-26.8, -67.6) -> (-26.8, -69.1)
  line L9 (-7.3, -69.1) -> (-3.8, -69.1) projected
  line L10 (-26.8, -69.1) -> (-3.8, -69.1)
  line L11 (-3.8, -69.1) -> (-3.8, -67.6)
  line L12 (-3.8, -67.6) -> (1.5, -67.6) projected
  line L13 (-3.8, -67.6) -> (1.5, -67.6)
  point P0 (0, 0)
extrude "Wyciągnięcie proste20" add sketch "Szkic22" along normal blind 1.5
sketch "Szkic23" plane through (0, 24, 0) normal (0, 1, 0) x (1, 0, 0)
  line L0 (-21.8, -101.1) -> (-21.8, -97.6) projected
  line L1 (-8.8, -67.6) -> (-8.8, -69.1) projected
  line L2 (-21.8, -101.1) -> (-8.8, -101.1)
  line L3 (-8.8, -101.1) -> (-8.8, -69.1)
  line L4 (-8.8, -69.1) -> (-21.8, -69.1)
  line L5 (-21.8, -69.1) -> (-21.8, -101.1)
  line L6 (-21.8, -101.1) -> (-20.3, -101.1) construction
  line L7 (-20.3, -101.1) -> (-20.3, -99.6) construction
  line L8 (-20.3, -99.6) -> (-21.8, -99.6) construction
  line L9 (-21.8, -99.6) -> (-21.8, -101.1) construction
  line L10 (-8.8, -69.1) -> (-10.3, -69.1) construction
  line L11 (-21.8, -69.1) -> (-8.8, -69.1) construction
  line L12 (-20.3, -99.6) -> (-10.3, -99.6)
  line L13 (-10.3, -99.6) -> (-10.3, -69.1)
  line L14 (-10.3, -69.1) -> (-20.3, -69.1)
  line L15 (-20.3, -69.1) -> (-20.3, -99.6)
  point P0 (0, 0)
  dimension "d135" = 1.5
  dimension "d136" = 1.5
  dimension "d137" = 1.5
extrude "Wyciągnięcie proste21" add sketch "Szkic23" against normal blind 1.5 contours L0 L5 L4 L15 L12 L13 L3 L2
sketch "Szkic24" plane through (0, 24, 0) normal (0, 1, 0) x (1, 0, 0)
  line L0 (-23.3, -69.1) -> (-23.3, -102.6) projected
  line L1 (-23.3, -69.1) -> (-7.3, -69.1)
  line L2 (-7.3, -69.1) -> (-7.3, -67.6)
  line L3 (-7.3, -67.6) -> (-23.3, -67.6)
  line L4 (-23.3, -67.6) -> (-23.3, -69.1)
  point P0 (0, 0)
  dimension "d140" = 16
  dimension "d141" = 1.5
extrude "Wyciągnięcie proste22" add sketch "Szkic24" against normal blind 3.5
sketch "Szkic25" plane through (0, 24, 0) normal (0, 1, 0) x (1, 0, 0)
  line L0 (-7.3, -102.6) -> (-7.3, -69.1) projected
  line L1 (-23.3, -69.1) -> (-23.3, -67.6) projected
  line L2 (-7.3, -102.6) -> (-23.3, -102.6)
  line L3 (-23.3, -102.6) -> (-23.3, -67.6)
  line L4 (-23.3, -67.6) -> (-7.3, -67.6)
  line L5 (-7.3, -67.6) -> (-7.3, -102.6)
  point P0 (0, 0)
extrude "Wyciągnięcie proste23" add sketch "Szkic25" along normal blind 1.5
sketch "Szkic26" plane through (0, 20.5, 0) normal (0, 1, 0) x (1, 0, 0)
  line L0 (1.5, -67.6) -> (1.5, 1.5) construction
  line L1 (1.5, 1.5) -> (1.5, -0.3) construction
  line L2 (1.5, -0.3) -> (1.5, -25.3) construction
  line L3 (1.5, -0.3) -> (1.5, -48.3) construction
  line L4 (1.5, -48.3) -> (0, -48.3) construction
  line L5 (0, -48.3) -> (-7, -48.3)
  line L6 (-7, -48.3) -> (-7, -25.3)
  line L7 (-7, -25.3) -> (0, -25.3)
  line L8 (0, -25.3) -> (0, -48.3)
  point P0 (0, 0)
  dimension "d146" = 1.8
  dimension "d147" = 25
  dimension "d148" = 48
  dimension "d149" = 7
extrude "Wyciągnięcie proste24" cut sketch "Szkic26" against normal blind 5
properties part number "gora"
